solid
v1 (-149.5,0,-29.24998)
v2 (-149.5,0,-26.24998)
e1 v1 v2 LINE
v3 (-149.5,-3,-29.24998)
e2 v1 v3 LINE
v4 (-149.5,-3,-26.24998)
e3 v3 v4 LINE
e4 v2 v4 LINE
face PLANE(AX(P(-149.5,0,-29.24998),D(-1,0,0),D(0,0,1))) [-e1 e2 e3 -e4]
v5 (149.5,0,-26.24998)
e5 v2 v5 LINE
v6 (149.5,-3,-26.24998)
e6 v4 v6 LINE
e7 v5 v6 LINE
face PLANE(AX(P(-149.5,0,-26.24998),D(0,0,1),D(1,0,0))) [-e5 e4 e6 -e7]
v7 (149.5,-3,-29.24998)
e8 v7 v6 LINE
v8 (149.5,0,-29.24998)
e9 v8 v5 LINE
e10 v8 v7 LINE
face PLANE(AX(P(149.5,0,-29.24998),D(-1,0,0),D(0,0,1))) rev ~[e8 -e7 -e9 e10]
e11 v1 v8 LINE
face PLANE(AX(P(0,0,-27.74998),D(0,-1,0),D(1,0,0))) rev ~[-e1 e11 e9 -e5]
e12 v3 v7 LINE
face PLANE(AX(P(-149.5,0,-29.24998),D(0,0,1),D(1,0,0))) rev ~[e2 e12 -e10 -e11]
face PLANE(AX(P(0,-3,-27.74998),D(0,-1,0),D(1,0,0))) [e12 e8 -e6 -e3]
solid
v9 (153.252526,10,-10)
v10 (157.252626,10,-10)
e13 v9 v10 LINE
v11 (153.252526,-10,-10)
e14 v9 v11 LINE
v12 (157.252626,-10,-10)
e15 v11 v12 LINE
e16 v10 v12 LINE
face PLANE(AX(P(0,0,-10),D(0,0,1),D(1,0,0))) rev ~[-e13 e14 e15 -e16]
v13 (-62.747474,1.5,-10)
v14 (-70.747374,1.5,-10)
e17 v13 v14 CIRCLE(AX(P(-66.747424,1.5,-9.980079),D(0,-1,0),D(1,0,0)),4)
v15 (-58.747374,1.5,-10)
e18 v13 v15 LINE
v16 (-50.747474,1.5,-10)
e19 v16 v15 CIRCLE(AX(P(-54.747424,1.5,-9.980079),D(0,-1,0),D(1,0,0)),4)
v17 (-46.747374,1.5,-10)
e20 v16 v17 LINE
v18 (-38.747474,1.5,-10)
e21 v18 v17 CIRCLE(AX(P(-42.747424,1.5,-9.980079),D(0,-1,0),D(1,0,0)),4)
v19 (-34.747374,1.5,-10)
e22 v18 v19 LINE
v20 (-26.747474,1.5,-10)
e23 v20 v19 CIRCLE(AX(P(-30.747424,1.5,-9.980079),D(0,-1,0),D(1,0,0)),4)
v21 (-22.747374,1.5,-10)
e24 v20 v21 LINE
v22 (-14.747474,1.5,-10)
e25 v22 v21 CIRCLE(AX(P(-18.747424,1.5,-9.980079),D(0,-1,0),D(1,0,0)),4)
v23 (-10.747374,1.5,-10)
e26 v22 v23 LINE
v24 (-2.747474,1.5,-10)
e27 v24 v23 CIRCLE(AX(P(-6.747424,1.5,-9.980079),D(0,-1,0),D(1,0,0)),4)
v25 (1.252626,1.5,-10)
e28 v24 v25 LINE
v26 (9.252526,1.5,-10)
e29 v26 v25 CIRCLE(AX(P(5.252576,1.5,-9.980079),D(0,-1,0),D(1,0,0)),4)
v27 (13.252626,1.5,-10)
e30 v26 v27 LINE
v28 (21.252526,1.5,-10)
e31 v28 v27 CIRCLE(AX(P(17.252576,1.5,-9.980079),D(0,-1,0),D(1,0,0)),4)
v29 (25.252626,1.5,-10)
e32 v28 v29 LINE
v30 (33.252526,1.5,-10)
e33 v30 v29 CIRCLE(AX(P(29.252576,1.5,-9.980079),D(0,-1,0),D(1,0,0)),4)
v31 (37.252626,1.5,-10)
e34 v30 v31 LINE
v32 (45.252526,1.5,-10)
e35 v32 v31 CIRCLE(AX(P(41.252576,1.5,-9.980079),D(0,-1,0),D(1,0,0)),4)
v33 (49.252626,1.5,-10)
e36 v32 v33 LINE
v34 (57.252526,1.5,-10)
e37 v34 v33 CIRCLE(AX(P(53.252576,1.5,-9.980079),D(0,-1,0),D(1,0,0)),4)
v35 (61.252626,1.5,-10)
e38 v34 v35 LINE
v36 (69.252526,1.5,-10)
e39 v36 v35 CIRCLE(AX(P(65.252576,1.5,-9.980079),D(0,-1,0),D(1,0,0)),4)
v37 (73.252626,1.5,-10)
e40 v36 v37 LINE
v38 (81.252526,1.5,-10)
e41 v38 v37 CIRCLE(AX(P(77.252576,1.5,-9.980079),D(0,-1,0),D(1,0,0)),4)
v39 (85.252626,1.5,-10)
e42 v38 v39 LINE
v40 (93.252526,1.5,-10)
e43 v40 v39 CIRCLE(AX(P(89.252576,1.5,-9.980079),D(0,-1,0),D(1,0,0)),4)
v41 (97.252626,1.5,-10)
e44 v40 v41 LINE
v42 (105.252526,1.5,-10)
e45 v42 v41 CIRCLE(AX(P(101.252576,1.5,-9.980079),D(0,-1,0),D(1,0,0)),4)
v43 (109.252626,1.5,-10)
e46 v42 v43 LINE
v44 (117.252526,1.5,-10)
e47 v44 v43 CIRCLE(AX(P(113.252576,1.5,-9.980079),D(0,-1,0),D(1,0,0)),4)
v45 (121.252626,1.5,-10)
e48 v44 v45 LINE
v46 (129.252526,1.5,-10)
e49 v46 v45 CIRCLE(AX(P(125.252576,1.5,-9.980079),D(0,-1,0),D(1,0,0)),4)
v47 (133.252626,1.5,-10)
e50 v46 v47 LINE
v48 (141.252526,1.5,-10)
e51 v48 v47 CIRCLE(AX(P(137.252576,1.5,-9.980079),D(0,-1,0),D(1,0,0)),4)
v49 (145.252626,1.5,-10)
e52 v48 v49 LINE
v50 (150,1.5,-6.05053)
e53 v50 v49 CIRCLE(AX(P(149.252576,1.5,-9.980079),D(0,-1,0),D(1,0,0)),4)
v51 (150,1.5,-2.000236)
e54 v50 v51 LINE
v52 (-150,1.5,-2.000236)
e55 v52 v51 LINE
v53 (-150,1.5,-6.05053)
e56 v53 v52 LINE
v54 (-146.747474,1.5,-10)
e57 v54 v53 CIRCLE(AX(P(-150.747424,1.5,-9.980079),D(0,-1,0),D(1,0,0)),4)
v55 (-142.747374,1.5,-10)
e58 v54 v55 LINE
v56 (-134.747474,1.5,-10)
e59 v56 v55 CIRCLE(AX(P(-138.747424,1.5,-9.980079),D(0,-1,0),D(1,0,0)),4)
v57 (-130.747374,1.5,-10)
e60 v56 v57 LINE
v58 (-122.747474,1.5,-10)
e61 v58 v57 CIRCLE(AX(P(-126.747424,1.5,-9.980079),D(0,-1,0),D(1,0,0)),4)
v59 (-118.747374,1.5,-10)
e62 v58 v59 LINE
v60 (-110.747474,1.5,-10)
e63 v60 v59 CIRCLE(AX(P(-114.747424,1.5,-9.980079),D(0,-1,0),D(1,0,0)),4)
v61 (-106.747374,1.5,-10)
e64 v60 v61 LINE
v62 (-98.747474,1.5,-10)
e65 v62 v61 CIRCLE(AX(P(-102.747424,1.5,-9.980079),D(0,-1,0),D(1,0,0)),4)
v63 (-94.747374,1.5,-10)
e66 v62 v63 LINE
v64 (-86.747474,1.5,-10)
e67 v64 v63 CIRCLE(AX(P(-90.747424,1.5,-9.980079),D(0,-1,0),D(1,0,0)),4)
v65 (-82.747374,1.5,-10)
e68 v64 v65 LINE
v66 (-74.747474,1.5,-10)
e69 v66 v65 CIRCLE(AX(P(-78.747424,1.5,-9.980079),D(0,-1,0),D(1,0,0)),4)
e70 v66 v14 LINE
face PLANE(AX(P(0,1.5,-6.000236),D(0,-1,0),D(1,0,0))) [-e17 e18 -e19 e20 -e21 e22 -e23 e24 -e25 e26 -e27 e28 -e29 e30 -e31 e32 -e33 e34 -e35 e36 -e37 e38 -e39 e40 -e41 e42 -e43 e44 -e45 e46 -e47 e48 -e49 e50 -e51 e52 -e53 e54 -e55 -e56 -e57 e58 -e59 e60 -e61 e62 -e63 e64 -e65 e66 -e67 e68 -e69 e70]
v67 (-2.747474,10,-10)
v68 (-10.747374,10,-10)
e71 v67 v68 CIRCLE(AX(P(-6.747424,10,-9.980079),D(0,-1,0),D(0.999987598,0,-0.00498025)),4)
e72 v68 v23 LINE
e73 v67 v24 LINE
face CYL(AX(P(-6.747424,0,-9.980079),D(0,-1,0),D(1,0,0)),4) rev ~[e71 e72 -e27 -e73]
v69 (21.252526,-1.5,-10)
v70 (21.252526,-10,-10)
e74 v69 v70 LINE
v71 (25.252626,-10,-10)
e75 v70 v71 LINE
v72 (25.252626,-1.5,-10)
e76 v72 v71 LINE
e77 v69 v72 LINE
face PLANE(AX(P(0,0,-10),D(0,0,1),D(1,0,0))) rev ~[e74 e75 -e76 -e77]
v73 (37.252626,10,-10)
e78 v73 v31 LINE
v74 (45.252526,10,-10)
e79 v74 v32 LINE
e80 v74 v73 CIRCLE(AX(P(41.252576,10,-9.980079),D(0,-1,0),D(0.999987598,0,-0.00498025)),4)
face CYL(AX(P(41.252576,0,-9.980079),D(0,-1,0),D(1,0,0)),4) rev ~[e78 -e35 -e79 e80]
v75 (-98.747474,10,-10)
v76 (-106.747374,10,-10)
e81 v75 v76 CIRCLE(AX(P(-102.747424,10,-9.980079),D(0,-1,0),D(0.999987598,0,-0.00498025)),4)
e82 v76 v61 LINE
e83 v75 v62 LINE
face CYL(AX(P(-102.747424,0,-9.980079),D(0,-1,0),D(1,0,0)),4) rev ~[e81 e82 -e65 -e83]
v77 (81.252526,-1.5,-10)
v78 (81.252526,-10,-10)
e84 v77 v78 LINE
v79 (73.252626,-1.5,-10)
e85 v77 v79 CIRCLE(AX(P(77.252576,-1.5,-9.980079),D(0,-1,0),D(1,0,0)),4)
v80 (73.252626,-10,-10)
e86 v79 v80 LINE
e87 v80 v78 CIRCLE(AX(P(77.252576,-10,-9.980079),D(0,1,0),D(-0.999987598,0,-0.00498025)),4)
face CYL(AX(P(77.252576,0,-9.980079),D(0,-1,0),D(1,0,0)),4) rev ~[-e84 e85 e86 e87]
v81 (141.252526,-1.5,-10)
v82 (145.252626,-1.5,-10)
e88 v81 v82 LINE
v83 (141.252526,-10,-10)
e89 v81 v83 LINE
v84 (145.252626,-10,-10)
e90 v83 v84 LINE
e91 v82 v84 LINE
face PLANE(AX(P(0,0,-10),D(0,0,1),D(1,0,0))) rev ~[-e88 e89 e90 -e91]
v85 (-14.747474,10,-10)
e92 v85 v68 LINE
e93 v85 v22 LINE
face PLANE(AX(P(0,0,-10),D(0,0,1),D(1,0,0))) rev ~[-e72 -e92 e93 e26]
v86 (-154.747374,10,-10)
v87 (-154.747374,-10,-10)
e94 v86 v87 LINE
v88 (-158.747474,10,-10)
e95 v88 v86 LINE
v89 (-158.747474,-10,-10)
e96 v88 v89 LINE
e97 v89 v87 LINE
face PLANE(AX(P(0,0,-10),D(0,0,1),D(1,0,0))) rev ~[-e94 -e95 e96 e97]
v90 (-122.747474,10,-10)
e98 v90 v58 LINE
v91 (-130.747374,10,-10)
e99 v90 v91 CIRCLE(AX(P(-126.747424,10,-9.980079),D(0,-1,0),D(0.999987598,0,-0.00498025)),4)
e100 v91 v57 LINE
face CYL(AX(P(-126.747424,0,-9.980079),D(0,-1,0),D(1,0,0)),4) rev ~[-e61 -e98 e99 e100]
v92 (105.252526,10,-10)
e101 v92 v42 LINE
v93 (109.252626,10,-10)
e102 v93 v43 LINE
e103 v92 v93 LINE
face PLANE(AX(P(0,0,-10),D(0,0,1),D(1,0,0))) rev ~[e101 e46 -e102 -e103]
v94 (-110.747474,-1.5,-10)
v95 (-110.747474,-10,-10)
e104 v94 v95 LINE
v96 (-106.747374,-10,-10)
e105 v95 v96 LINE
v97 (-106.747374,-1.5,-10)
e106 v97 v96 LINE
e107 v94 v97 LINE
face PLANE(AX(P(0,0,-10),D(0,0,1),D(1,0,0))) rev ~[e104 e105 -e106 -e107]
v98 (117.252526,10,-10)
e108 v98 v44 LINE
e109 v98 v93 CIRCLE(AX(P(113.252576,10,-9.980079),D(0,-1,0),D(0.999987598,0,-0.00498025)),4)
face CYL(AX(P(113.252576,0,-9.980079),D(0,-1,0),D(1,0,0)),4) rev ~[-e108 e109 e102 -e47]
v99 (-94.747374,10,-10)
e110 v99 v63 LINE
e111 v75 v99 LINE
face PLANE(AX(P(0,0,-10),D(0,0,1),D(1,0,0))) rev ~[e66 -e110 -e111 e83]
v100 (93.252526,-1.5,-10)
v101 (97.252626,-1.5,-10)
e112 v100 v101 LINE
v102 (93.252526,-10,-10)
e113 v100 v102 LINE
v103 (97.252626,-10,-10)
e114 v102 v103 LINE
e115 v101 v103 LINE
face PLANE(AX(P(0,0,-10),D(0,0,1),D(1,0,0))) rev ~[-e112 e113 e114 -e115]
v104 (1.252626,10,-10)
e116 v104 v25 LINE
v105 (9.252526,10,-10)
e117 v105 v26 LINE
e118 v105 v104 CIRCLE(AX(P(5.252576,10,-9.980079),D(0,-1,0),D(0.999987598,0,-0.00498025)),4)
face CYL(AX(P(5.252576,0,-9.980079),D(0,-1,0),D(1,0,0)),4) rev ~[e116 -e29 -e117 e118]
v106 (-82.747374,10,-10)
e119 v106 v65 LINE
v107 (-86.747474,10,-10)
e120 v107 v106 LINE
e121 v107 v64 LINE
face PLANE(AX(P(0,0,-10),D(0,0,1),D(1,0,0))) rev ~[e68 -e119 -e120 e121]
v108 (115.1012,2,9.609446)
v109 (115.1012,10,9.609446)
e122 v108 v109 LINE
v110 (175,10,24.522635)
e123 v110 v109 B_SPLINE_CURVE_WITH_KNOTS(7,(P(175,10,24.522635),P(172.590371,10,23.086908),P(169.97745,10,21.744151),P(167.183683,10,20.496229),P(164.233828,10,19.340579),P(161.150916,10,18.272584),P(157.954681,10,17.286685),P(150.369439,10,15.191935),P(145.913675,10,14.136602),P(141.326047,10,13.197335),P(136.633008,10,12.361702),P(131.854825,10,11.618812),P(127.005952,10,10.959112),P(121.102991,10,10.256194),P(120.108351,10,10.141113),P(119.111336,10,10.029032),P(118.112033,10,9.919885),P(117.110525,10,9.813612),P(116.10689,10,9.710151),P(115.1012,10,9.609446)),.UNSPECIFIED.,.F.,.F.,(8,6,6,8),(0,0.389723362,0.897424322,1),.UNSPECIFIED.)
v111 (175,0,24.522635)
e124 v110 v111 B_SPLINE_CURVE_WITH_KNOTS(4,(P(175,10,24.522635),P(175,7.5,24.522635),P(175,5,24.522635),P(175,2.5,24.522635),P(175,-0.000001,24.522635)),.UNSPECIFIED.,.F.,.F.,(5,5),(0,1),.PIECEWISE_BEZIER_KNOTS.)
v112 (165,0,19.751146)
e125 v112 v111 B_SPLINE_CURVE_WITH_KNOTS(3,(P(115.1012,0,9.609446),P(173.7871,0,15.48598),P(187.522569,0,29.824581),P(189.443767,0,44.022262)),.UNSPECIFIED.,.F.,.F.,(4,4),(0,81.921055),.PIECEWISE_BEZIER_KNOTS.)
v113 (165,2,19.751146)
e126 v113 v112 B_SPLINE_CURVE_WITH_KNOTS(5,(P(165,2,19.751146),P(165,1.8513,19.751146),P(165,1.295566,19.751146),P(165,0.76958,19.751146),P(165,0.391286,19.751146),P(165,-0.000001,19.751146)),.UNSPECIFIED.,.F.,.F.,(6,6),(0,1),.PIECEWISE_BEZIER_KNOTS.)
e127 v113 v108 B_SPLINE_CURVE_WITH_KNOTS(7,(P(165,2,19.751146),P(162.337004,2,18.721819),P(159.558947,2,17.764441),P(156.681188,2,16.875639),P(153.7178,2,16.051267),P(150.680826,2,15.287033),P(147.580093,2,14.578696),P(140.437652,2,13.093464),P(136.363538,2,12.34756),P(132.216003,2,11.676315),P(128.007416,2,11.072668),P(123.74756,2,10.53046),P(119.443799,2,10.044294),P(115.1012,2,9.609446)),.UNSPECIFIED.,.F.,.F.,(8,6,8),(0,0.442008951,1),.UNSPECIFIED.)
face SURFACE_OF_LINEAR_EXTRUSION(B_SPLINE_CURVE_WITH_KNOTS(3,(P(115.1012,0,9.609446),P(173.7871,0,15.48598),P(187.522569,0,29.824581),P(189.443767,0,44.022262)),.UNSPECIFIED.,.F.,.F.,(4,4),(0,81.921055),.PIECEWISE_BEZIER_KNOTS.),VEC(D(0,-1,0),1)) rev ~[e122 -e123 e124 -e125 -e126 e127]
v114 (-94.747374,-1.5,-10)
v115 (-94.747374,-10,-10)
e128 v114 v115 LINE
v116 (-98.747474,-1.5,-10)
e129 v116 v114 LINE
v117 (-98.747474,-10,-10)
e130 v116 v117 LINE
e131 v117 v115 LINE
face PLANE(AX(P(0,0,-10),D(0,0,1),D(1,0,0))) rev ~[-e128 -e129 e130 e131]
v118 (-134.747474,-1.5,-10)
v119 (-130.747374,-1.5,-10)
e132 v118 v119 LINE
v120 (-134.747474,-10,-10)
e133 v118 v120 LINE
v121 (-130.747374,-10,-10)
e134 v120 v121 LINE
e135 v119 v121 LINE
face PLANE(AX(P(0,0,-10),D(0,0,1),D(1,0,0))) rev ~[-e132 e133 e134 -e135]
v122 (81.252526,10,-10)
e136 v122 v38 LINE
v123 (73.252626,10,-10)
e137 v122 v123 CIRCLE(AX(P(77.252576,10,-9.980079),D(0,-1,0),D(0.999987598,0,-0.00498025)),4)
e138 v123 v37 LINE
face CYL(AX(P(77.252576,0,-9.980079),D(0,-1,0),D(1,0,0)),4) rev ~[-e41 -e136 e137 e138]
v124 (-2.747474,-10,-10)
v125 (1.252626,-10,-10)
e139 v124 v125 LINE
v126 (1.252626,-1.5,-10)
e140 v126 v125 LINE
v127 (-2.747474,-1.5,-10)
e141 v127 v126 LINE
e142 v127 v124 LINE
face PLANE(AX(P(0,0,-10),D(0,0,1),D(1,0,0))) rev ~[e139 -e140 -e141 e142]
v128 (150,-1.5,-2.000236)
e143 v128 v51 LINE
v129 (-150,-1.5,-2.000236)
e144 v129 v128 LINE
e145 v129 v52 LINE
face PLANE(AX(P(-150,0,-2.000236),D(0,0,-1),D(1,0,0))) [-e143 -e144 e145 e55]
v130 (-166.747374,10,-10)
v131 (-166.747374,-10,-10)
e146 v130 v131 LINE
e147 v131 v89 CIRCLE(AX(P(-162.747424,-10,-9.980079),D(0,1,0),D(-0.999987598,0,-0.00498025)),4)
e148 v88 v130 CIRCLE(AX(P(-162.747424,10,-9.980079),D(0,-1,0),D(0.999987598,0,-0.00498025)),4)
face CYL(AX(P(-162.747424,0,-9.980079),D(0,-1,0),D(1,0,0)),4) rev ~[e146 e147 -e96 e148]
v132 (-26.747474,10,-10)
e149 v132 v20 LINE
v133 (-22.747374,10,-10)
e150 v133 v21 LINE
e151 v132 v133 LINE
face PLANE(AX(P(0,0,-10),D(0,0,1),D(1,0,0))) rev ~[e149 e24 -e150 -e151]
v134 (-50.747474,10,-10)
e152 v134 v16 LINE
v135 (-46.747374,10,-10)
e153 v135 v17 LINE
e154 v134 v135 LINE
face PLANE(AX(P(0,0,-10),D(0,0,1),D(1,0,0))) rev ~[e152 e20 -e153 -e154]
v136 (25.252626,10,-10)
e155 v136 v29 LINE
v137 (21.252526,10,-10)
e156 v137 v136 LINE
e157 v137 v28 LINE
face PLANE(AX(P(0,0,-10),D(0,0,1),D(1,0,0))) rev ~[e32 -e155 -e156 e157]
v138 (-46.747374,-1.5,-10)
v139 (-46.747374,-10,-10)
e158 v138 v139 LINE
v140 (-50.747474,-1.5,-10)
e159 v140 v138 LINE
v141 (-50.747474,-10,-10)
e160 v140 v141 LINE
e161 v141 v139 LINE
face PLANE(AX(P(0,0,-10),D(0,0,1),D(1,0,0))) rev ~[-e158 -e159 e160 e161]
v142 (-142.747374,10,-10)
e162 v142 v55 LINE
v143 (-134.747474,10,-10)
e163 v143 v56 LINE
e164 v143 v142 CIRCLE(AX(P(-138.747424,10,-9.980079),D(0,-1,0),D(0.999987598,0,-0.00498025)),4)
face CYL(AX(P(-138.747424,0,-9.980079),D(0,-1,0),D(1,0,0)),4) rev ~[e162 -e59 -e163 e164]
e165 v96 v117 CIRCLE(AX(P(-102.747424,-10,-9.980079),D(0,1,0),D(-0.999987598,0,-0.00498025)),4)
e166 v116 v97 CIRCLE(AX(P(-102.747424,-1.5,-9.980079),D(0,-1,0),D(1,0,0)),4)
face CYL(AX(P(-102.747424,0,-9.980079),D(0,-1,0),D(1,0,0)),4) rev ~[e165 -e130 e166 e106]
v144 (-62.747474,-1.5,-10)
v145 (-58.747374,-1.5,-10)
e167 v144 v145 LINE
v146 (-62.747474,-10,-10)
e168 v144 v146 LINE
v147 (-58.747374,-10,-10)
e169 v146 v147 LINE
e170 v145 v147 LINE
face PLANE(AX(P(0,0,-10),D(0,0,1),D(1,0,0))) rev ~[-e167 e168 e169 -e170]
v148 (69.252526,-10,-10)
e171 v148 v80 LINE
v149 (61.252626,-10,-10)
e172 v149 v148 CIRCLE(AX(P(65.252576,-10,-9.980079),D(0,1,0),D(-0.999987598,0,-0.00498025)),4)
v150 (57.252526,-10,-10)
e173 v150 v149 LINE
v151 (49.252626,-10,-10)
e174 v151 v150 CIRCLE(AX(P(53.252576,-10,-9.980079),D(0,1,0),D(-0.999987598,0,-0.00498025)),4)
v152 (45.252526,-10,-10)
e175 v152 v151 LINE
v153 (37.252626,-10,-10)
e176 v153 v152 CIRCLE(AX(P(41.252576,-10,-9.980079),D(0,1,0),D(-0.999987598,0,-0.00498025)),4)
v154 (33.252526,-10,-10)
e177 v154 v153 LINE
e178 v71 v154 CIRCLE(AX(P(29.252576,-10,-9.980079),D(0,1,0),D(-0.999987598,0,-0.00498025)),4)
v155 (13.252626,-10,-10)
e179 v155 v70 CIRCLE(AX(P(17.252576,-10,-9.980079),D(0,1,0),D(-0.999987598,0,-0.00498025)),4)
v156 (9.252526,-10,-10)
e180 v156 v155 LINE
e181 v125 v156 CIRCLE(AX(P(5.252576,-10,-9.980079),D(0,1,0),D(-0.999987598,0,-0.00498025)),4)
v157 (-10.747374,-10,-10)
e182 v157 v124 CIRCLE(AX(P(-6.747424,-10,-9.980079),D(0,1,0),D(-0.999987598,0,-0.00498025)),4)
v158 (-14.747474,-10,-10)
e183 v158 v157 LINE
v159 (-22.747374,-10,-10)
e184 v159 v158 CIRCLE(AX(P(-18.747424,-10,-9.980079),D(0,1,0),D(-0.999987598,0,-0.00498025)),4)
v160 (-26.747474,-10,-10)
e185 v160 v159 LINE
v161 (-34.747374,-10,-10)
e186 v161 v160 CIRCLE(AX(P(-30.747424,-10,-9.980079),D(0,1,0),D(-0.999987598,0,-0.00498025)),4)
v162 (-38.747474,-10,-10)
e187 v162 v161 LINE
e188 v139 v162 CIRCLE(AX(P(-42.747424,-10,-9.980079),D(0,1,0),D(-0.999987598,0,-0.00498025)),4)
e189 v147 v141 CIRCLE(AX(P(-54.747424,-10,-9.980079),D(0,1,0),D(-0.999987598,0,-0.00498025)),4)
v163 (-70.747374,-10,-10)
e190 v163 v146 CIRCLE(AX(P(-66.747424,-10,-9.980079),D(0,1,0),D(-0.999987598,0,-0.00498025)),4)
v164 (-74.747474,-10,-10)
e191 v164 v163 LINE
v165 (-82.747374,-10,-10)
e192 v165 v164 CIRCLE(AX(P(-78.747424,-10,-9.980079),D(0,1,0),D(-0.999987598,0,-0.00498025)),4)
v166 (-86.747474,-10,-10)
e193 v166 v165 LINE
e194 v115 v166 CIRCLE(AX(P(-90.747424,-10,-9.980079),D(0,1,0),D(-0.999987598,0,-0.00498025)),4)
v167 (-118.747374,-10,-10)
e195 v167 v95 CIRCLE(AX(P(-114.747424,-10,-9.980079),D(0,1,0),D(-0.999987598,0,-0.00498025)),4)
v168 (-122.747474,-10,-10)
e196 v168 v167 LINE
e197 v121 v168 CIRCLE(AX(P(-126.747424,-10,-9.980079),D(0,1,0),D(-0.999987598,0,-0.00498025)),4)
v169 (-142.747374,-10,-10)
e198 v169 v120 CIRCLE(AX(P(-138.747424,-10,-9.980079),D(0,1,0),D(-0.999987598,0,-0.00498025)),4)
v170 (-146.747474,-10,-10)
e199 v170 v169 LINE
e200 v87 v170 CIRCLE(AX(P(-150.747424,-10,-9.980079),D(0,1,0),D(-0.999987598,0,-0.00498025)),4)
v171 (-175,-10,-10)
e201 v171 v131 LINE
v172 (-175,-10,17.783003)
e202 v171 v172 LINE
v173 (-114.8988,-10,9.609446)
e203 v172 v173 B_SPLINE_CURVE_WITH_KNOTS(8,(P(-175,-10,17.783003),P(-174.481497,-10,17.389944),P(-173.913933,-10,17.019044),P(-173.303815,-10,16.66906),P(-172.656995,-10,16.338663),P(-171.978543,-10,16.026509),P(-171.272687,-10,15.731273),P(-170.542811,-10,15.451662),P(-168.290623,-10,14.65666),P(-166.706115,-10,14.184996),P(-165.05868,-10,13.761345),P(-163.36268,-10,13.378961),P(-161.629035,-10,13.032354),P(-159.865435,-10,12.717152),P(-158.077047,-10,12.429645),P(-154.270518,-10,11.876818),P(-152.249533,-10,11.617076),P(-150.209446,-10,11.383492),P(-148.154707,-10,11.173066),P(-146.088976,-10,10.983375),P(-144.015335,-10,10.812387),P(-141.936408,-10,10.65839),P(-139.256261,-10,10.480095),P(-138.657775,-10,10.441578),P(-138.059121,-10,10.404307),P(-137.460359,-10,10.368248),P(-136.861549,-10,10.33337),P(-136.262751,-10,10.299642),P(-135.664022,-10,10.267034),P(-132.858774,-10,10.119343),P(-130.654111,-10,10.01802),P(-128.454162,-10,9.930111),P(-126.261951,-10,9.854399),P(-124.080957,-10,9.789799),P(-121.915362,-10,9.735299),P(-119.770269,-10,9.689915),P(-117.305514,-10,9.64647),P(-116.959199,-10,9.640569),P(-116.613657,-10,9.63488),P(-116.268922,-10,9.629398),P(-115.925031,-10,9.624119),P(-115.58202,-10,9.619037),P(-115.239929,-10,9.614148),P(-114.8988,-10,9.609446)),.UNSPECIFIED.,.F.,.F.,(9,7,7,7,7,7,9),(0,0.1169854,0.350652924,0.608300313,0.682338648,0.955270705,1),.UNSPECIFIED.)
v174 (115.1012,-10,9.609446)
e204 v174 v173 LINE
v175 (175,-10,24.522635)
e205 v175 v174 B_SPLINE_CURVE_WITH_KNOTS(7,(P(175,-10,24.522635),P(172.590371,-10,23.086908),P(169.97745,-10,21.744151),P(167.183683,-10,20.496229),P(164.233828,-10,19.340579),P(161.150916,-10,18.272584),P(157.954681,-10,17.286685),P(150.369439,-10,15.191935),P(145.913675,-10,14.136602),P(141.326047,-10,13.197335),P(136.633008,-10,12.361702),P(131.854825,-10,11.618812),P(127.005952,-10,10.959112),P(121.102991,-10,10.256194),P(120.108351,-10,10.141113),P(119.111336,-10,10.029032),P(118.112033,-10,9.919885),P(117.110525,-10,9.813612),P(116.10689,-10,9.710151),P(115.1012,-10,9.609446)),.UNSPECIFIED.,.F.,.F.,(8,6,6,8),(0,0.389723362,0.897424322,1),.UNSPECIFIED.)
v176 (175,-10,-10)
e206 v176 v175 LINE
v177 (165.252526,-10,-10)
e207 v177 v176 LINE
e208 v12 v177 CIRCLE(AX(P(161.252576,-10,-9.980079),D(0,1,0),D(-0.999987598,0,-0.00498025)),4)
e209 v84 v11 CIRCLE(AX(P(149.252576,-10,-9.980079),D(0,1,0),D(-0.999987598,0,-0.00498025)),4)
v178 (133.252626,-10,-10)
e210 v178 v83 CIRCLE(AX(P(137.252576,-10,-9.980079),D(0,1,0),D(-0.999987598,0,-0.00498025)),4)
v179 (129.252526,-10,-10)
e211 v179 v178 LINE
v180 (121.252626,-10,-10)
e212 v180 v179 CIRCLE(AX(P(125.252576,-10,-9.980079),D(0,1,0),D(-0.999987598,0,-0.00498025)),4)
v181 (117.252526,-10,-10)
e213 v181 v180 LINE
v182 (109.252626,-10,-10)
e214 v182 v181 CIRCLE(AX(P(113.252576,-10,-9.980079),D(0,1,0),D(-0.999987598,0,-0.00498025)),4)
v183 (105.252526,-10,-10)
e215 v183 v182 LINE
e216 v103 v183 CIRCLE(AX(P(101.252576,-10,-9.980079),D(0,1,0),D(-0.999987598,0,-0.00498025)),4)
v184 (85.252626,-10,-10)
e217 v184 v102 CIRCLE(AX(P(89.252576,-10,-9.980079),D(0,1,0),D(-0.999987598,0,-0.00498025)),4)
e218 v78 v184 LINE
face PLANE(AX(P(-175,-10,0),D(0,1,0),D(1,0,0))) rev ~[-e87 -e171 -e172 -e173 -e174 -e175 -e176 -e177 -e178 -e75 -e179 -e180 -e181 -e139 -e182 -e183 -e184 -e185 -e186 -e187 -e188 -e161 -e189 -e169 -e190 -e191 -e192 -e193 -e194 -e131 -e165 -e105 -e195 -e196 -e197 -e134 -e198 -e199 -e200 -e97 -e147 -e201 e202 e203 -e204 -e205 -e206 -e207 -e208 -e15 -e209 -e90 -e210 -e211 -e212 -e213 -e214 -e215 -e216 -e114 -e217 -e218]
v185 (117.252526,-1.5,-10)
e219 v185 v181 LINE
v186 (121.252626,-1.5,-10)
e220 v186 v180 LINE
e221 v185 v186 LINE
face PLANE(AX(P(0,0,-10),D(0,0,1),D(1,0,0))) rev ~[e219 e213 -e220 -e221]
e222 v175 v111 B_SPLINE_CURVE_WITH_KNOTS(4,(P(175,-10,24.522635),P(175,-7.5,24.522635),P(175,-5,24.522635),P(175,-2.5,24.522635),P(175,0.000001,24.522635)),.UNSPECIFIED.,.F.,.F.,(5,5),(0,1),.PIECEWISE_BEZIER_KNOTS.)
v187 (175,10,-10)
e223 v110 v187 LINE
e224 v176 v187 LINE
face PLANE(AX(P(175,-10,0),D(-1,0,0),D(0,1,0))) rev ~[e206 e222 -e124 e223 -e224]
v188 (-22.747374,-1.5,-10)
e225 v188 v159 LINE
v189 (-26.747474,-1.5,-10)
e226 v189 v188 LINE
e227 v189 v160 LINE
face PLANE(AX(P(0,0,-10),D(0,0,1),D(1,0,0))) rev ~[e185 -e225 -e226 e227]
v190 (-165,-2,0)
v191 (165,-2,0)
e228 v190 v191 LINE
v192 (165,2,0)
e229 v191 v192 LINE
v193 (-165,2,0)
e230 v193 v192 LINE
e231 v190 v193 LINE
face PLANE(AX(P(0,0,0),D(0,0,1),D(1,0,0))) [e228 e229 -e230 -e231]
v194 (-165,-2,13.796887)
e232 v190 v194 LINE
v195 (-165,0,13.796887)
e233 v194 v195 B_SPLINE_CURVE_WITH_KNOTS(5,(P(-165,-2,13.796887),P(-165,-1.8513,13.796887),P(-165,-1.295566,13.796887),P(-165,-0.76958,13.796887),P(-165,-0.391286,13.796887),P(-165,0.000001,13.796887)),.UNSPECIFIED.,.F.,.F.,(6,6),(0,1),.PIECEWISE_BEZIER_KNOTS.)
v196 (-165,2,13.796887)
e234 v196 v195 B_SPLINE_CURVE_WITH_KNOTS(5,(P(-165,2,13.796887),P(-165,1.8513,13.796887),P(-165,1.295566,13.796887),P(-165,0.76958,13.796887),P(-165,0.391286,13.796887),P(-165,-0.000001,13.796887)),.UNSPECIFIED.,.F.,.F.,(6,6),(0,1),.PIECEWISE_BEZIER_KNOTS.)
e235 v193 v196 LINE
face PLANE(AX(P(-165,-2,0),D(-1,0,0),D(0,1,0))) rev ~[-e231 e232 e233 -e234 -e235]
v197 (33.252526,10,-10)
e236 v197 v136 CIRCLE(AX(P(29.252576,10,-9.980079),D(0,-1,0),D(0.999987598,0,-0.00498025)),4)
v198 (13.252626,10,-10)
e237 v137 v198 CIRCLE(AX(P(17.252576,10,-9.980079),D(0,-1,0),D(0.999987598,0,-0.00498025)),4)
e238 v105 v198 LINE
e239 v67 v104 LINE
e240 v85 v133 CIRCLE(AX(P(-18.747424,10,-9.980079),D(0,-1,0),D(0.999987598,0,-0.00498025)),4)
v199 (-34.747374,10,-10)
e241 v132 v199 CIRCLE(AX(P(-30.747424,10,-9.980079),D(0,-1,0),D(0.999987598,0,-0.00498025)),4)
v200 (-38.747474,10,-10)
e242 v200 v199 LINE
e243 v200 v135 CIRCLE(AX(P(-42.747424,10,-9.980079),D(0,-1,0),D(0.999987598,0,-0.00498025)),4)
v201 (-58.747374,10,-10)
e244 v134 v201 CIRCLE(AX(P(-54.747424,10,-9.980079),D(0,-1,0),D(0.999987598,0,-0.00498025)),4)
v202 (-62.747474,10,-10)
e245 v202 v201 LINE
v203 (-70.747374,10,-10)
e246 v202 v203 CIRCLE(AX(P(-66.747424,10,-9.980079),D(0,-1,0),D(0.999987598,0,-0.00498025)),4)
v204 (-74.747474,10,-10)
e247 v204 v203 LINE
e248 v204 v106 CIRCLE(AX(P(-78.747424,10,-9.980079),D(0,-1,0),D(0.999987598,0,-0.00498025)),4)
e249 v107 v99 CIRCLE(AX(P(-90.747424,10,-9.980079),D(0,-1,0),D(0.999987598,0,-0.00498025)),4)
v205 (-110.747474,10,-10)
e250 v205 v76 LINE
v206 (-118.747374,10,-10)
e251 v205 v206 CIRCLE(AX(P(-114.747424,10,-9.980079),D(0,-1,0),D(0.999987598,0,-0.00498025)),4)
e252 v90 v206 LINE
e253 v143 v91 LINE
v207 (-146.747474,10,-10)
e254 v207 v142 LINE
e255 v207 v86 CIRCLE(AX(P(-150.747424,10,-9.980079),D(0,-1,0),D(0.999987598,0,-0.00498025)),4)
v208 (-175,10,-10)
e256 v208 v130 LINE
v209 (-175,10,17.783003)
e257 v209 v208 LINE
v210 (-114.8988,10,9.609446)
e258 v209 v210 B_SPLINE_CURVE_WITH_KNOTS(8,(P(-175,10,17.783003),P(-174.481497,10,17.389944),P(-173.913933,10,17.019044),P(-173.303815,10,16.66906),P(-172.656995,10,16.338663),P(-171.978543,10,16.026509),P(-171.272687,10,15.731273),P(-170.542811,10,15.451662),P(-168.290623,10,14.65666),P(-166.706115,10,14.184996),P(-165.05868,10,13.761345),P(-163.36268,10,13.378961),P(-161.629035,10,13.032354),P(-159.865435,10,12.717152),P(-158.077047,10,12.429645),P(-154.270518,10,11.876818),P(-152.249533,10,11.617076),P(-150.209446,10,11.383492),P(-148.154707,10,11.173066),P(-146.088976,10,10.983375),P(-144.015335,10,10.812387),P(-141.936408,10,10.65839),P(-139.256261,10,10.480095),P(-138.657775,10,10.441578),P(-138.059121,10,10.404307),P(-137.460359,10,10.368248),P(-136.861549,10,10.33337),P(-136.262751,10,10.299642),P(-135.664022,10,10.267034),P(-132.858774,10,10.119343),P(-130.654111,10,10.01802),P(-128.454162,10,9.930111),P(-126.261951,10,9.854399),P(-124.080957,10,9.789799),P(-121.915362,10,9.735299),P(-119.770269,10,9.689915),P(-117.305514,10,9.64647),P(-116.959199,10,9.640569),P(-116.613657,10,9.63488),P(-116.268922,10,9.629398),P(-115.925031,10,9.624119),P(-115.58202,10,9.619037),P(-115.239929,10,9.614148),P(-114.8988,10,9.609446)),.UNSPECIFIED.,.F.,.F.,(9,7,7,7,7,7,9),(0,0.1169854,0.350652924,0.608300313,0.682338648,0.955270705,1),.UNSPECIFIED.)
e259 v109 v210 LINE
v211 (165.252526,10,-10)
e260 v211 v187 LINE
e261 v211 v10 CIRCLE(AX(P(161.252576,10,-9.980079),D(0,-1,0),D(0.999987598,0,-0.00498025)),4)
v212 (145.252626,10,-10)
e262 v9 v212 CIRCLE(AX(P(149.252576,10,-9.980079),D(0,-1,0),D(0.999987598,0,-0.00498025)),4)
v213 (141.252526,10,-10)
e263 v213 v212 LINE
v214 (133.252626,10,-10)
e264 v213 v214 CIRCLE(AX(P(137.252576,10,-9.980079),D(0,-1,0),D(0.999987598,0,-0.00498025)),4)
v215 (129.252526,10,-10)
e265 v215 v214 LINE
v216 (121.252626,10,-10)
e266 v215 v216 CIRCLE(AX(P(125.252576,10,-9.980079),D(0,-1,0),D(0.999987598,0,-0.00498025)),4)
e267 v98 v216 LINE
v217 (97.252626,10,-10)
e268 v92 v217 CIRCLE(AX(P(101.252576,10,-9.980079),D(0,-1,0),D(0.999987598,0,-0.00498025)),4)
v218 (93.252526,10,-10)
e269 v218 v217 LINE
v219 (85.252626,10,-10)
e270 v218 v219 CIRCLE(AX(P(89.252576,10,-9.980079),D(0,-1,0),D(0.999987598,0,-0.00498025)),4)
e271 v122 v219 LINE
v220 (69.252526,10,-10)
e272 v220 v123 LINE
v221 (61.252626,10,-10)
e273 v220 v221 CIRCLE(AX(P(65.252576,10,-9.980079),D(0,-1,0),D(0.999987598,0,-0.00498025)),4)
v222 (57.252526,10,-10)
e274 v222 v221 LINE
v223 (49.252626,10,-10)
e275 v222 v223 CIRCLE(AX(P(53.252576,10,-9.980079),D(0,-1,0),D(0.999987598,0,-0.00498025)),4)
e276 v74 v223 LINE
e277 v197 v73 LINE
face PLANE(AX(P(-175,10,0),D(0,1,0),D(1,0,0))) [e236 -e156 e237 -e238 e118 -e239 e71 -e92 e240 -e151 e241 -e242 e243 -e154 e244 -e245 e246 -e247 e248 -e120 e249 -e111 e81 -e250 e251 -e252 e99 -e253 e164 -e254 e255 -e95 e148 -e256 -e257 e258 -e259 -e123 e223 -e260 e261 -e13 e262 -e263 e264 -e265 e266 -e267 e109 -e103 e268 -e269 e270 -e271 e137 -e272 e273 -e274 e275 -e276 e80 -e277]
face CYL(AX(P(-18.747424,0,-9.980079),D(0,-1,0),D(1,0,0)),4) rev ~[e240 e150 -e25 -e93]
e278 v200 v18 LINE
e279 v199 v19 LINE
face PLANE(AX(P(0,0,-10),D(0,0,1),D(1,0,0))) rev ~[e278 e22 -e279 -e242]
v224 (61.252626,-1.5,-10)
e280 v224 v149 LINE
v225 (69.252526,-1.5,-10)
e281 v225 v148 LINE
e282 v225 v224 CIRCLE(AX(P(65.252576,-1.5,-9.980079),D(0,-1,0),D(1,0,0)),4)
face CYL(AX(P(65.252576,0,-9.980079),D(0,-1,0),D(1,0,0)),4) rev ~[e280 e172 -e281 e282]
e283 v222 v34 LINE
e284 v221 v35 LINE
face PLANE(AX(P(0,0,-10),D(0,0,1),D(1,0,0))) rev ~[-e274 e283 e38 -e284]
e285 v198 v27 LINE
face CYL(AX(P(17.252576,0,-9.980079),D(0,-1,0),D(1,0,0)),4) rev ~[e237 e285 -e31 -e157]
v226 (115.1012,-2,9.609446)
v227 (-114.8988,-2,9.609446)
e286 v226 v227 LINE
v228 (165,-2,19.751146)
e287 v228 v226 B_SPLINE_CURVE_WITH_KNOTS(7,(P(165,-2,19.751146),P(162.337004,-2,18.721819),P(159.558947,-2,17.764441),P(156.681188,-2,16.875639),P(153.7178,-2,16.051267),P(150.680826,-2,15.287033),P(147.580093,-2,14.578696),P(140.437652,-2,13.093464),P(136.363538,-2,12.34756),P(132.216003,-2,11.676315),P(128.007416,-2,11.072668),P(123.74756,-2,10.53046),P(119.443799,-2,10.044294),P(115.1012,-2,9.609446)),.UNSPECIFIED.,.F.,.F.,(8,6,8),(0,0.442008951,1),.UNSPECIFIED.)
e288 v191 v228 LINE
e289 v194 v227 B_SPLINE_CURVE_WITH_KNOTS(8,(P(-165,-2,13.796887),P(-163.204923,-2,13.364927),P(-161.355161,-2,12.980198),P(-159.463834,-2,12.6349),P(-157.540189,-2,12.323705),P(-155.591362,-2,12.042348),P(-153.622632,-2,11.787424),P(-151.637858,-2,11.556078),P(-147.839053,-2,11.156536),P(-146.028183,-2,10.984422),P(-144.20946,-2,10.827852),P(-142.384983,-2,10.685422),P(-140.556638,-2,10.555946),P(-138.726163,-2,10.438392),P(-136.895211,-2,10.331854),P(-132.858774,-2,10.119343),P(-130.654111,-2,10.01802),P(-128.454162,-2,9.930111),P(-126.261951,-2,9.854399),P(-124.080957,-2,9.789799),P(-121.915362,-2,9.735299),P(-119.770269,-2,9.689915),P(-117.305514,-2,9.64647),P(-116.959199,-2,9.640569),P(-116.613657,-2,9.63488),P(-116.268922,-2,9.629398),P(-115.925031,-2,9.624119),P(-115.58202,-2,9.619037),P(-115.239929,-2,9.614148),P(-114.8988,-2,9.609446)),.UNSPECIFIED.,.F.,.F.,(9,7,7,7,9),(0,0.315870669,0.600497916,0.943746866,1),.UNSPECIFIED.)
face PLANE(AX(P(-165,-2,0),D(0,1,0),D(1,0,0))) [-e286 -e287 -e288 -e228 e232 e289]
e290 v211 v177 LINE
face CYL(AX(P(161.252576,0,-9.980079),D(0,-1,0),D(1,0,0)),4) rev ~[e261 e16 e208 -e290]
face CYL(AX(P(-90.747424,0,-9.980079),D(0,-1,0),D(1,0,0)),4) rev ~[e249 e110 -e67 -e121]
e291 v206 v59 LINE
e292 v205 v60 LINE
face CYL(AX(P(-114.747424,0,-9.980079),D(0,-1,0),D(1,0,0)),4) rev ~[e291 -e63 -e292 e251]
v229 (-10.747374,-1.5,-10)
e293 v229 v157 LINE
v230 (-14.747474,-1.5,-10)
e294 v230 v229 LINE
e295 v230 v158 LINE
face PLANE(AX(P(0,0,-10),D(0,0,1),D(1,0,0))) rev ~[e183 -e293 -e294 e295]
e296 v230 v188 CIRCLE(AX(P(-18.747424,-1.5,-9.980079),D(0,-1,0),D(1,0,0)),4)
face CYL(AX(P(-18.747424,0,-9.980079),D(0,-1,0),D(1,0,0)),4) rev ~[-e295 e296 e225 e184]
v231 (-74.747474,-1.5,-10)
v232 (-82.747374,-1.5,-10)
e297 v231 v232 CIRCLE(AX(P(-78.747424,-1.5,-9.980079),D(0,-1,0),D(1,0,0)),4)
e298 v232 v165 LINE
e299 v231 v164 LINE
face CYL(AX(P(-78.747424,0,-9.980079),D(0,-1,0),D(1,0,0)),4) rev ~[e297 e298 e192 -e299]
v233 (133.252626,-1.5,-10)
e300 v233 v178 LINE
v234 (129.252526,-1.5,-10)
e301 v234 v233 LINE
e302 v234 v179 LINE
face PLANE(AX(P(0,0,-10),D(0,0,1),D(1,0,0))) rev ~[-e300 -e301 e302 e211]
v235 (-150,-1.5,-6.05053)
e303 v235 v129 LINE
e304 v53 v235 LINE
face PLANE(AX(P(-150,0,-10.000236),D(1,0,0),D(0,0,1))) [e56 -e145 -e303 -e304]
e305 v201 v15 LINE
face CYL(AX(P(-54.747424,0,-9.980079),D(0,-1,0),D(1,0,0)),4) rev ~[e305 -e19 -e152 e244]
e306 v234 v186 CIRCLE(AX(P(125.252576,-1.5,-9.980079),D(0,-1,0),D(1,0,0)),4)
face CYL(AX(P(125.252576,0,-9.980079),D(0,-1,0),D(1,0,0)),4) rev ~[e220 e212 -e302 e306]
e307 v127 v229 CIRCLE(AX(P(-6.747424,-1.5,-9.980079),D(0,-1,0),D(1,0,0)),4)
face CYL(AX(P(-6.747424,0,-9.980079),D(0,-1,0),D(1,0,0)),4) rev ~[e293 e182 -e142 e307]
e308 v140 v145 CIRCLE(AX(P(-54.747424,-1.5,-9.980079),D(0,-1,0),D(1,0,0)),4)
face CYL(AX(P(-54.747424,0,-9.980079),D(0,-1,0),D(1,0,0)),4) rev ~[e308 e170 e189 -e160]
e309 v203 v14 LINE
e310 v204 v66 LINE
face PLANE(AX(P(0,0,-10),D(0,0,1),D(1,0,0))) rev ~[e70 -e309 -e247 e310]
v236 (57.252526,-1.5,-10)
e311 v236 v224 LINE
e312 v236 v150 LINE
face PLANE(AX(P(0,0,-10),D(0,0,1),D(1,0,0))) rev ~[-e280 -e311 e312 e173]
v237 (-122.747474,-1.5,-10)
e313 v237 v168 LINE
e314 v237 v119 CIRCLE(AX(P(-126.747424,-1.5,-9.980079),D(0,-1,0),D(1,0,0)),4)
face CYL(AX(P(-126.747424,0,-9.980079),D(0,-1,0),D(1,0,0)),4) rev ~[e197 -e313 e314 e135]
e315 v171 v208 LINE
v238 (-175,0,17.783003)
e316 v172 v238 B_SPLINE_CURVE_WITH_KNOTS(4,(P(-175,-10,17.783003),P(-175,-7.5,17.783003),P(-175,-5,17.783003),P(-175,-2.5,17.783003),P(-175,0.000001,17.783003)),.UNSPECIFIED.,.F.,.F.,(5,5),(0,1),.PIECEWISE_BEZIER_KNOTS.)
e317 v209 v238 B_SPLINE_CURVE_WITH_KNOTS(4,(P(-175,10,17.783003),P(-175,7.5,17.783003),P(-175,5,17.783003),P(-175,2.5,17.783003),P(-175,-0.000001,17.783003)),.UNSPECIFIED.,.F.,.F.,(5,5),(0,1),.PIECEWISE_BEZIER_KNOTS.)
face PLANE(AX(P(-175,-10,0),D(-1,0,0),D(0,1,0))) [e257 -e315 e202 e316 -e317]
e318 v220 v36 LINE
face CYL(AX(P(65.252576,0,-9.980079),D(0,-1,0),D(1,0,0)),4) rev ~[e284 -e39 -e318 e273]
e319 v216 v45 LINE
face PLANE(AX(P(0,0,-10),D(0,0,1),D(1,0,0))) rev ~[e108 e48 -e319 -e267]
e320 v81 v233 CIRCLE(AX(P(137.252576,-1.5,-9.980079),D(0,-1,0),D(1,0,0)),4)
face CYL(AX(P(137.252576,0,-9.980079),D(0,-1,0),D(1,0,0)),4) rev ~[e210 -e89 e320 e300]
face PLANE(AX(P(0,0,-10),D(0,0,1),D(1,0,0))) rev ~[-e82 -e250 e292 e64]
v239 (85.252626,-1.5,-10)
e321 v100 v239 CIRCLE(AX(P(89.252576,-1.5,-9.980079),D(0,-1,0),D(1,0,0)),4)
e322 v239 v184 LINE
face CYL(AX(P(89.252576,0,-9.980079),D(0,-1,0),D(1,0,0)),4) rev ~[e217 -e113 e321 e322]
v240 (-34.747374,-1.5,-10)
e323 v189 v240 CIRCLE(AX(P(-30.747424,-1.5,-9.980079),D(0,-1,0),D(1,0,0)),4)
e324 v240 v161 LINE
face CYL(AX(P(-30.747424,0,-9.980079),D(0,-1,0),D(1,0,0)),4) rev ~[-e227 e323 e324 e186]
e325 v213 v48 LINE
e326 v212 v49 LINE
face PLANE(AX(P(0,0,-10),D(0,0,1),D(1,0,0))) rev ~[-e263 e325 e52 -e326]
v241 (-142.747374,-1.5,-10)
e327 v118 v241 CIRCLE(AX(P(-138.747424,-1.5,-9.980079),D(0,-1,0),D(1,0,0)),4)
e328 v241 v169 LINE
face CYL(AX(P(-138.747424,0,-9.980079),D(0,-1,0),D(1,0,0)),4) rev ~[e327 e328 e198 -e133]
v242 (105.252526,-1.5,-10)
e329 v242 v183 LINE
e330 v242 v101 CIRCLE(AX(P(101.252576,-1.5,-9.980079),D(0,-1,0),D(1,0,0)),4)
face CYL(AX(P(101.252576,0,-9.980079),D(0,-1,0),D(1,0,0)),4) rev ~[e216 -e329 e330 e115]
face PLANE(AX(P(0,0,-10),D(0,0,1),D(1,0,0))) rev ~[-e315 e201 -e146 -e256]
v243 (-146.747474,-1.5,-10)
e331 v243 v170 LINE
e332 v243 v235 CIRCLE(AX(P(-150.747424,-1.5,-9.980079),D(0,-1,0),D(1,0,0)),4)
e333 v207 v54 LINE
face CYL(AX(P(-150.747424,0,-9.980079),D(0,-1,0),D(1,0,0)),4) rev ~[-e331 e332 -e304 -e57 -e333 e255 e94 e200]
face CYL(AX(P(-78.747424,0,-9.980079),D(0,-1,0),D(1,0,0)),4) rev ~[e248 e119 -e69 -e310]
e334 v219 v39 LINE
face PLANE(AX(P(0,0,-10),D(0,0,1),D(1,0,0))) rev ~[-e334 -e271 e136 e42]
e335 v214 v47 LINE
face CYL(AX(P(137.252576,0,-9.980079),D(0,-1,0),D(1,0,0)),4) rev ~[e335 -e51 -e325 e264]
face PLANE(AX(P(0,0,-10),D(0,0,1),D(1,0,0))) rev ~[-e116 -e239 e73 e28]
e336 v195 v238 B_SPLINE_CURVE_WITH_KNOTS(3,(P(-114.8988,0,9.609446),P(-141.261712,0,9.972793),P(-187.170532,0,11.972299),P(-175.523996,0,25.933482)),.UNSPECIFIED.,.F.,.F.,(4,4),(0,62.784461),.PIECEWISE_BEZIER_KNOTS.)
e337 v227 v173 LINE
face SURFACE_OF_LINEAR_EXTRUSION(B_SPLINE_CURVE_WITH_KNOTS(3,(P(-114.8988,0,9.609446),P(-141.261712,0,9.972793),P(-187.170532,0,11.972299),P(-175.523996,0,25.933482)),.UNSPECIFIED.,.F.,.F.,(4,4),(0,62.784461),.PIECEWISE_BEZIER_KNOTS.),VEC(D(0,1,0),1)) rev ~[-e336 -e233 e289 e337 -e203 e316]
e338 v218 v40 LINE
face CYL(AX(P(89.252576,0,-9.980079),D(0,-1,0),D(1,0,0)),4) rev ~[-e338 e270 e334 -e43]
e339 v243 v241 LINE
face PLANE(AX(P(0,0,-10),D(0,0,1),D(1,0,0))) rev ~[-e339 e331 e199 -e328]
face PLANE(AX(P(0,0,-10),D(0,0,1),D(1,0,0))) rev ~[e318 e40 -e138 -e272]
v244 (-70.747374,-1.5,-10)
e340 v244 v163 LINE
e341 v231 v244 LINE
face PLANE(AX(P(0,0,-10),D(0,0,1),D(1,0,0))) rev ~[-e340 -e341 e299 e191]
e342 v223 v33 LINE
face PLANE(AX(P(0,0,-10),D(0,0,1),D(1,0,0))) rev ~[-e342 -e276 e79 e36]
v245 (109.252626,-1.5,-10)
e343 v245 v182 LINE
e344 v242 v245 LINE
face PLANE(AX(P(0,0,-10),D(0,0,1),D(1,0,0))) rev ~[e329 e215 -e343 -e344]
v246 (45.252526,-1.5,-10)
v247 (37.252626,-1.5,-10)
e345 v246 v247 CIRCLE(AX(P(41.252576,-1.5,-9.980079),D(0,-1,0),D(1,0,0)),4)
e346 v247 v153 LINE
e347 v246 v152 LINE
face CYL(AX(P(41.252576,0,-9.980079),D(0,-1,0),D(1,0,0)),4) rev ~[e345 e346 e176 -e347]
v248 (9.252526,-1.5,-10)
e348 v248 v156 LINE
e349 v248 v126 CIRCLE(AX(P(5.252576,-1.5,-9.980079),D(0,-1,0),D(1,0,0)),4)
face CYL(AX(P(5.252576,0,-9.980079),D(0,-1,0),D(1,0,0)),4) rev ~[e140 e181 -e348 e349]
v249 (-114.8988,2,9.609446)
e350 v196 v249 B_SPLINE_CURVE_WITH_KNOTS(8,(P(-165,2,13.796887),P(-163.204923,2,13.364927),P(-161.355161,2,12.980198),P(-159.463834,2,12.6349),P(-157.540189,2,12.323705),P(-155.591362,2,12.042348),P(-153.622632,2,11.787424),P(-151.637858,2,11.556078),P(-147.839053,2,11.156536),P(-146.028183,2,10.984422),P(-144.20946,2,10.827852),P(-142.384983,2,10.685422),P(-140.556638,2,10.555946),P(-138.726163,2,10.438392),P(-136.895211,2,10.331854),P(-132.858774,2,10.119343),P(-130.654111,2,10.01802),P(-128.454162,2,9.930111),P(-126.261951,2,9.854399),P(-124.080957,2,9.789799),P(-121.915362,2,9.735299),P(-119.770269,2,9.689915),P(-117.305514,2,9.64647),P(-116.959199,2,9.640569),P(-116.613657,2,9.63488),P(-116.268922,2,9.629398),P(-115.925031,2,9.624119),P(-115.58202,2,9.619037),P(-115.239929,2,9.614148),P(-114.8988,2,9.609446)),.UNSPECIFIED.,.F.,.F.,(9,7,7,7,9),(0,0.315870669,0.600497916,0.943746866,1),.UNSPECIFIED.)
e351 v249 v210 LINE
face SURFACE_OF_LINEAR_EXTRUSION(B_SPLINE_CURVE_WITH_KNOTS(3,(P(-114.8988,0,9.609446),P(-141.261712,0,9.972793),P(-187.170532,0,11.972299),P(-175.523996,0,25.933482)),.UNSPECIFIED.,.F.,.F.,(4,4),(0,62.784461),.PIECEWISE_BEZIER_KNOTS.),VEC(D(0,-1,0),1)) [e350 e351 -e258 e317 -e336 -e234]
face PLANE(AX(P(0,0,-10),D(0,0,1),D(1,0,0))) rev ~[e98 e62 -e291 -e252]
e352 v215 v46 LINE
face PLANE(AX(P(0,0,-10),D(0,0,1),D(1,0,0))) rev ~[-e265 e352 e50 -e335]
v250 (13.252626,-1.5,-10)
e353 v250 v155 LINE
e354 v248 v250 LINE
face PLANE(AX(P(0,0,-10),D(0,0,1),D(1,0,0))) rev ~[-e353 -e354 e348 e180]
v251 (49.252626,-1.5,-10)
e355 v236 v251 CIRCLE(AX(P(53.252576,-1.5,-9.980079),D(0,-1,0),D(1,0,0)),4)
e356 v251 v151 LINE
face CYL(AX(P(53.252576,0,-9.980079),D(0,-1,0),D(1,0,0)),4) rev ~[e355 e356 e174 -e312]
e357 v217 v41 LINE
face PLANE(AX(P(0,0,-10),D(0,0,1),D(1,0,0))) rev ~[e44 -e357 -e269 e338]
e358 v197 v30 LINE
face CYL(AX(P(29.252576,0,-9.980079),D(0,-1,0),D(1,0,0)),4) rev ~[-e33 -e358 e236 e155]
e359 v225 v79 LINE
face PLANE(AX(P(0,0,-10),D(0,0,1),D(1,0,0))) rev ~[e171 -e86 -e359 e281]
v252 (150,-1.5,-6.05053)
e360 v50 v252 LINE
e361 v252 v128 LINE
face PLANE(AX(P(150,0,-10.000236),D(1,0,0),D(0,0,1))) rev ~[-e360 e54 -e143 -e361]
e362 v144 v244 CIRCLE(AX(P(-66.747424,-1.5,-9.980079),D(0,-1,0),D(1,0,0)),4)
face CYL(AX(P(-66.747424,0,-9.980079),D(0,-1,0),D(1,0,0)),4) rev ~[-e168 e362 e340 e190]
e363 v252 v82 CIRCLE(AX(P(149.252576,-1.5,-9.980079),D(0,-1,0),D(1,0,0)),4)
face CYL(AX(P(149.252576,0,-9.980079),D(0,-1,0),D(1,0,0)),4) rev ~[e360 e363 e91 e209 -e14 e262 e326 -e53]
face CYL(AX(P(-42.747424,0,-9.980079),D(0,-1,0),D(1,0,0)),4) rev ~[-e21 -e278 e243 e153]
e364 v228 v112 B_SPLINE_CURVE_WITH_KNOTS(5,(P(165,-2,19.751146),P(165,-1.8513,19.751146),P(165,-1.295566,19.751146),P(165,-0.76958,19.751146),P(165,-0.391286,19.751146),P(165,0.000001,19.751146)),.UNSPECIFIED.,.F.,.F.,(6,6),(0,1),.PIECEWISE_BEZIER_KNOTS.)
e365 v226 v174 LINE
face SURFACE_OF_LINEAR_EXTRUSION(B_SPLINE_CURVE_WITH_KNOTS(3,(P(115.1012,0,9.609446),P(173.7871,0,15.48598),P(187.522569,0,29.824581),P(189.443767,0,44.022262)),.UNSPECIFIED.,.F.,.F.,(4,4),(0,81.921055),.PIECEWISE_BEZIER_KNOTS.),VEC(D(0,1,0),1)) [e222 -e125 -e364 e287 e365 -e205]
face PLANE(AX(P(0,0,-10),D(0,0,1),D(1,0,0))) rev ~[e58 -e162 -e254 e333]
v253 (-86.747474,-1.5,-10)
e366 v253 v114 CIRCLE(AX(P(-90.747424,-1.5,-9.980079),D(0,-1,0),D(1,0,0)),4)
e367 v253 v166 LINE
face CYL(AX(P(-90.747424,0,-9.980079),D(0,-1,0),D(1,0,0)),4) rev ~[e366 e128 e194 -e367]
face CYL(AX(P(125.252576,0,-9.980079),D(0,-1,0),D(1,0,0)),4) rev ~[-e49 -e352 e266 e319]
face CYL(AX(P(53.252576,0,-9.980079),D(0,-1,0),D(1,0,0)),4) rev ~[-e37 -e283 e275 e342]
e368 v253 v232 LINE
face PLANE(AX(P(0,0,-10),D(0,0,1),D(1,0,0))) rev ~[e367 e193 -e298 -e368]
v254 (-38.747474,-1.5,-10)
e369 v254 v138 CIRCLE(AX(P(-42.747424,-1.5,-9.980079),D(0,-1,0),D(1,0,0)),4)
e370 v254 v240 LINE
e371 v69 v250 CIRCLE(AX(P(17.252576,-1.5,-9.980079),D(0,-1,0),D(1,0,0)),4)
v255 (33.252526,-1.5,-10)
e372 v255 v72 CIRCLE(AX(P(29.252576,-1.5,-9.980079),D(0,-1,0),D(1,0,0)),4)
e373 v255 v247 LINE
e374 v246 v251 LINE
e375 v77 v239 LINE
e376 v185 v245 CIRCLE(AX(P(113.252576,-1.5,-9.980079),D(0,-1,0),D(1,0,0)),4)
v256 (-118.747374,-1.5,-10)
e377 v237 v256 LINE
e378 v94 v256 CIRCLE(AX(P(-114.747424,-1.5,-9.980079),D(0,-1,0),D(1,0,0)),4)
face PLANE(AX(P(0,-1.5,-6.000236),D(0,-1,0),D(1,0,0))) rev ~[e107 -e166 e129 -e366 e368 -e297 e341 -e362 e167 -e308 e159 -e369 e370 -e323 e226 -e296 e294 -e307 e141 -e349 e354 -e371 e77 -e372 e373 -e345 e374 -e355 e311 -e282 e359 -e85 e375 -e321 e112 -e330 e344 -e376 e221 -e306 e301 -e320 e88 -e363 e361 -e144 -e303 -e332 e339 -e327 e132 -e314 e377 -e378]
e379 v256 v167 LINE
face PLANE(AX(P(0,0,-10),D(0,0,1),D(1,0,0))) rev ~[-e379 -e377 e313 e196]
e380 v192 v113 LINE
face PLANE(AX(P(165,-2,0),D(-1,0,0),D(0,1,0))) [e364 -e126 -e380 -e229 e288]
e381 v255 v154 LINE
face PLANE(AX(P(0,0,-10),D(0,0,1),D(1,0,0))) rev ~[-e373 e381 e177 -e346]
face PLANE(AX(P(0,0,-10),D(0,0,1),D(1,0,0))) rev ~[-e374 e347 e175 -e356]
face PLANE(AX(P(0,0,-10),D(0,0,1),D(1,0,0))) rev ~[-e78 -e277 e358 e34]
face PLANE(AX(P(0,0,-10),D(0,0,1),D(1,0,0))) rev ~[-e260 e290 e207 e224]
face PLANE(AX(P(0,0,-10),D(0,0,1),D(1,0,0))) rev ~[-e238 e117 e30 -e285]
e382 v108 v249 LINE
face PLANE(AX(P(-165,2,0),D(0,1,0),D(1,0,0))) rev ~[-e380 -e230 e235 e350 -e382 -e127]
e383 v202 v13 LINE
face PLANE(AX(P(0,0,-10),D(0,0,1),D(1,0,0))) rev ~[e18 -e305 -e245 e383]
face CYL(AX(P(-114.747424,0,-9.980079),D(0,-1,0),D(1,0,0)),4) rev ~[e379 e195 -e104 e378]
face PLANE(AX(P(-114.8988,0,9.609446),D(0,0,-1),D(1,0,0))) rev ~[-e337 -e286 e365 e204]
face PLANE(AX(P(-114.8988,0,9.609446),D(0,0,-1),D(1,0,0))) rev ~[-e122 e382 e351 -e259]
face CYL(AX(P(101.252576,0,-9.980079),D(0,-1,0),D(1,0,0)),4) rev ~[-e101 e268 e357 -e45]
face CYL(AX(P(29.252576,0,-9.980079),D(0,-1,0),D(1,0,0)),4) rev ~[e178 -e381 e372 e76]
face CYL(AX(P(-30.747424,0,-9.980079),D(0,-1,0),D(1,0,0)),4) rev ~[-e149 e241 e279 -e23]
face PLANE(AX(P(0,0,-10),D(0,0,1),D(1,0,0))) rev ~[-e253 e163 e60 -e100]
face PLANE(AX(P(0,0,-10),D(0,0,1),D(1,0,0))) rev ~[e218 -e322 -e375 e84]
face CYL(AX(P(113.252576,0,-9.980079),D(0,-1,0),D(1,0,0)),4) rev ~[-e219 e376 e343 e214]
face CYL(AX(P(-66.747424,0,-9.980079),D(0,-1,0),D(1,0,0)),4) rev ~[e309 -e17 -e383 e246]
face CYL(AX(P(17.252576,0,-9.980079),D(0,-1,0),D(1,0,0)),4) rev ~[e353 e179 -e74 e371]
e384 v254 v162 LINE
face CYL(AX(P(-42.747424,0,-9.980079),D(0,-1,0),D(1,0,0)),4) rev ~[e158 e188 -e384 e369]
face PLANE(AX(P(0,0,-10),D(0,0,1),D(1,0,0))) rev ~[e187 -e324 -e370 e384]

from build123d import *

# Parameters (mm, degrees)
F0_W      = 350
F0_H      = 20
F0_W_2    = 330
F0_H_2    = 4
F1_DEPTH  = 10
F2_DEPTH  = 25
F3_R      = 4
F4_DEPTH  = 12.5
F6_DEPTH  = 12.5
F7_W      = 300
F7_H      = 8
F8_DEPTH  = 1.5
F9_W      = 299
F9_H      = 3
F10_DEPTH = 3


with BuildPart() as f1:
    # F0 (on Top) → F1 (new body)
    with BuildSketch(Plane.XY):
        Rectangle(F0_W, F0_H)
        Rectangle(F0_W_2, F0_H_2, mode=Mode.SUBTRACT)
        Rectangle(F0_W_2, F0_H_2)
    extrude(amount=-F1_DEPTH)

    # F0 (on Top) → F2 (join)
    with BuildSketch(Plane.XY):
        Rectangle(F0_W, F0_H)
        Rectangle(F0_W_2, F0_H_2, mode=Mode.SUBTRACT)
    extrude(amount=F2_DEPTH)

    # F3 (on Front) → F4 (cut, symmetric)
    with BuildSketch(Plane.XZ):
        with Locations((-162.747424, -9.980079)):
            Circle(F3_R)
        with Locations((-150.747424, -9.980079)):
            Circle(F3_R)
        with Locations((-138.747424, -9.980079)):
            Circle(F3_R)
        with Locations((-126.747424, -9.980079)):
            Circle(F3_R)
        with Locations((-114.747424, -9.980079)):
            Circle(F3_R)
        with Locations((-102.747424, -9.980079)):
            Circle(F3_R)
        with Locations((-90.747424, -9.980079)):
            Circle(F3_R)
        with Locations((-78.747424, -9.980079)):
            Circle(F3_R)
        with Locations((-66.747424, -9.980079)):
            Circle(F3_R)
        with Locations((-54.747424, -9.980079)):
            Circle(F3_R)
        with Locations((-42.747424, -9.980079)):
            Circle(F3_R)
        with Locations((-30.747424, -9.980079)):
            Circle(F3_R)
        with Locations((-18.747424, -9.980079)):
            Circle(F3_R)
        with Locations((-6.747424, -9.980079)):
            Circle(F3_R)
        with Locations((5.252576, -9.980079)):
            Circle(F3_R)
        with Locations((17.252576, -9.980079)):
            Circle(F3_R)
        with Locations((29.252576, -9.980079)):
            Circle(F3_R)
        with Locations((41.252576, -9.980079)):
            Circle(F3_R)
        with Locations((53.252576, -9.980079)):
            Circle(F3_R)
        with Locations((65.252576, -9.980079)):
            Circle(F3_R)
        with Locations((77.252576, -9.980079)):
            Circle(F3_R)
        with Locations((89.252576, -9.980079)):
            Circle(F3_R)
        with Locations((101.252576, -9.980079)):
            Circle(F3_R)
        with Locations((113.252576, -9.980079)):
            Circle(F3_R)
        with Locations((125.252576, -9.980079)):
            Circle(F3_R)
        with Locations((137.252576, -9.980079)):
            Circle(F3_R)
        with Locations((149.252576, -9.980079)):
            Circle(F3_R)
        with Locations((161.252576, -9.980079)):
            Circle(F3_R)
    extrude(amount=F4_DEPTH, both=True, mode=Mode.SUBTRACT)

    # F5 (on Front) → F6 (cut, symmetric)
    with BuildSketch(Plane.XZ):
        with BuildLine():
            add(Edge.make_bspline(
                [(-114.8988, 9.609446), (-141.261712, 9.972793), (-187.170532, 11.972299), (-175.523996, 25.933482)],
                knots=[0, 0, 0, 0, 62.784461, 62.784461, 62.784461, 62.784461], degree=3))
            Line((-114.8988, 9.609446), (115.1012, 9.609446))
            add(Edge.make_bspline(
                [(115.1012, 9.609446), (173.7871, 15.48598), (187.522569, 29.824581), (189.443767, 44.022262)],
                knots=[0, 0, 0, 0, 81.921055, 81.921055, 81.921055, 81.921055], degree=3))
            Line((189.443767, 44.022262), (-175.523996, 25.933482))
        make_face()
    extrude(amount=F6_DEPTH, both=True, mode=Mode.SUBTRACT)

    # F7 (on Front) → F8 (cut, symmetric)
    with BuildSketch(Plane.XZ):
        with Locations((0, -6.000236)):
            Rectangle(F7_W, F7_H)
    extrude(amount=F8_DEPTH, both=True, mode=Mode.SUBTRACT)


with BuildPart() as f10:
    # F9 (on Front) → F10 (new body)
    with BuildSketch(Plane.XZ):
        with Locations((0, -27.74998)):
            Rectangle(F9_W, F9_H)
    extrude(amount=F10_DEPTH)


solid = Compound([f1.part, f10.part])
